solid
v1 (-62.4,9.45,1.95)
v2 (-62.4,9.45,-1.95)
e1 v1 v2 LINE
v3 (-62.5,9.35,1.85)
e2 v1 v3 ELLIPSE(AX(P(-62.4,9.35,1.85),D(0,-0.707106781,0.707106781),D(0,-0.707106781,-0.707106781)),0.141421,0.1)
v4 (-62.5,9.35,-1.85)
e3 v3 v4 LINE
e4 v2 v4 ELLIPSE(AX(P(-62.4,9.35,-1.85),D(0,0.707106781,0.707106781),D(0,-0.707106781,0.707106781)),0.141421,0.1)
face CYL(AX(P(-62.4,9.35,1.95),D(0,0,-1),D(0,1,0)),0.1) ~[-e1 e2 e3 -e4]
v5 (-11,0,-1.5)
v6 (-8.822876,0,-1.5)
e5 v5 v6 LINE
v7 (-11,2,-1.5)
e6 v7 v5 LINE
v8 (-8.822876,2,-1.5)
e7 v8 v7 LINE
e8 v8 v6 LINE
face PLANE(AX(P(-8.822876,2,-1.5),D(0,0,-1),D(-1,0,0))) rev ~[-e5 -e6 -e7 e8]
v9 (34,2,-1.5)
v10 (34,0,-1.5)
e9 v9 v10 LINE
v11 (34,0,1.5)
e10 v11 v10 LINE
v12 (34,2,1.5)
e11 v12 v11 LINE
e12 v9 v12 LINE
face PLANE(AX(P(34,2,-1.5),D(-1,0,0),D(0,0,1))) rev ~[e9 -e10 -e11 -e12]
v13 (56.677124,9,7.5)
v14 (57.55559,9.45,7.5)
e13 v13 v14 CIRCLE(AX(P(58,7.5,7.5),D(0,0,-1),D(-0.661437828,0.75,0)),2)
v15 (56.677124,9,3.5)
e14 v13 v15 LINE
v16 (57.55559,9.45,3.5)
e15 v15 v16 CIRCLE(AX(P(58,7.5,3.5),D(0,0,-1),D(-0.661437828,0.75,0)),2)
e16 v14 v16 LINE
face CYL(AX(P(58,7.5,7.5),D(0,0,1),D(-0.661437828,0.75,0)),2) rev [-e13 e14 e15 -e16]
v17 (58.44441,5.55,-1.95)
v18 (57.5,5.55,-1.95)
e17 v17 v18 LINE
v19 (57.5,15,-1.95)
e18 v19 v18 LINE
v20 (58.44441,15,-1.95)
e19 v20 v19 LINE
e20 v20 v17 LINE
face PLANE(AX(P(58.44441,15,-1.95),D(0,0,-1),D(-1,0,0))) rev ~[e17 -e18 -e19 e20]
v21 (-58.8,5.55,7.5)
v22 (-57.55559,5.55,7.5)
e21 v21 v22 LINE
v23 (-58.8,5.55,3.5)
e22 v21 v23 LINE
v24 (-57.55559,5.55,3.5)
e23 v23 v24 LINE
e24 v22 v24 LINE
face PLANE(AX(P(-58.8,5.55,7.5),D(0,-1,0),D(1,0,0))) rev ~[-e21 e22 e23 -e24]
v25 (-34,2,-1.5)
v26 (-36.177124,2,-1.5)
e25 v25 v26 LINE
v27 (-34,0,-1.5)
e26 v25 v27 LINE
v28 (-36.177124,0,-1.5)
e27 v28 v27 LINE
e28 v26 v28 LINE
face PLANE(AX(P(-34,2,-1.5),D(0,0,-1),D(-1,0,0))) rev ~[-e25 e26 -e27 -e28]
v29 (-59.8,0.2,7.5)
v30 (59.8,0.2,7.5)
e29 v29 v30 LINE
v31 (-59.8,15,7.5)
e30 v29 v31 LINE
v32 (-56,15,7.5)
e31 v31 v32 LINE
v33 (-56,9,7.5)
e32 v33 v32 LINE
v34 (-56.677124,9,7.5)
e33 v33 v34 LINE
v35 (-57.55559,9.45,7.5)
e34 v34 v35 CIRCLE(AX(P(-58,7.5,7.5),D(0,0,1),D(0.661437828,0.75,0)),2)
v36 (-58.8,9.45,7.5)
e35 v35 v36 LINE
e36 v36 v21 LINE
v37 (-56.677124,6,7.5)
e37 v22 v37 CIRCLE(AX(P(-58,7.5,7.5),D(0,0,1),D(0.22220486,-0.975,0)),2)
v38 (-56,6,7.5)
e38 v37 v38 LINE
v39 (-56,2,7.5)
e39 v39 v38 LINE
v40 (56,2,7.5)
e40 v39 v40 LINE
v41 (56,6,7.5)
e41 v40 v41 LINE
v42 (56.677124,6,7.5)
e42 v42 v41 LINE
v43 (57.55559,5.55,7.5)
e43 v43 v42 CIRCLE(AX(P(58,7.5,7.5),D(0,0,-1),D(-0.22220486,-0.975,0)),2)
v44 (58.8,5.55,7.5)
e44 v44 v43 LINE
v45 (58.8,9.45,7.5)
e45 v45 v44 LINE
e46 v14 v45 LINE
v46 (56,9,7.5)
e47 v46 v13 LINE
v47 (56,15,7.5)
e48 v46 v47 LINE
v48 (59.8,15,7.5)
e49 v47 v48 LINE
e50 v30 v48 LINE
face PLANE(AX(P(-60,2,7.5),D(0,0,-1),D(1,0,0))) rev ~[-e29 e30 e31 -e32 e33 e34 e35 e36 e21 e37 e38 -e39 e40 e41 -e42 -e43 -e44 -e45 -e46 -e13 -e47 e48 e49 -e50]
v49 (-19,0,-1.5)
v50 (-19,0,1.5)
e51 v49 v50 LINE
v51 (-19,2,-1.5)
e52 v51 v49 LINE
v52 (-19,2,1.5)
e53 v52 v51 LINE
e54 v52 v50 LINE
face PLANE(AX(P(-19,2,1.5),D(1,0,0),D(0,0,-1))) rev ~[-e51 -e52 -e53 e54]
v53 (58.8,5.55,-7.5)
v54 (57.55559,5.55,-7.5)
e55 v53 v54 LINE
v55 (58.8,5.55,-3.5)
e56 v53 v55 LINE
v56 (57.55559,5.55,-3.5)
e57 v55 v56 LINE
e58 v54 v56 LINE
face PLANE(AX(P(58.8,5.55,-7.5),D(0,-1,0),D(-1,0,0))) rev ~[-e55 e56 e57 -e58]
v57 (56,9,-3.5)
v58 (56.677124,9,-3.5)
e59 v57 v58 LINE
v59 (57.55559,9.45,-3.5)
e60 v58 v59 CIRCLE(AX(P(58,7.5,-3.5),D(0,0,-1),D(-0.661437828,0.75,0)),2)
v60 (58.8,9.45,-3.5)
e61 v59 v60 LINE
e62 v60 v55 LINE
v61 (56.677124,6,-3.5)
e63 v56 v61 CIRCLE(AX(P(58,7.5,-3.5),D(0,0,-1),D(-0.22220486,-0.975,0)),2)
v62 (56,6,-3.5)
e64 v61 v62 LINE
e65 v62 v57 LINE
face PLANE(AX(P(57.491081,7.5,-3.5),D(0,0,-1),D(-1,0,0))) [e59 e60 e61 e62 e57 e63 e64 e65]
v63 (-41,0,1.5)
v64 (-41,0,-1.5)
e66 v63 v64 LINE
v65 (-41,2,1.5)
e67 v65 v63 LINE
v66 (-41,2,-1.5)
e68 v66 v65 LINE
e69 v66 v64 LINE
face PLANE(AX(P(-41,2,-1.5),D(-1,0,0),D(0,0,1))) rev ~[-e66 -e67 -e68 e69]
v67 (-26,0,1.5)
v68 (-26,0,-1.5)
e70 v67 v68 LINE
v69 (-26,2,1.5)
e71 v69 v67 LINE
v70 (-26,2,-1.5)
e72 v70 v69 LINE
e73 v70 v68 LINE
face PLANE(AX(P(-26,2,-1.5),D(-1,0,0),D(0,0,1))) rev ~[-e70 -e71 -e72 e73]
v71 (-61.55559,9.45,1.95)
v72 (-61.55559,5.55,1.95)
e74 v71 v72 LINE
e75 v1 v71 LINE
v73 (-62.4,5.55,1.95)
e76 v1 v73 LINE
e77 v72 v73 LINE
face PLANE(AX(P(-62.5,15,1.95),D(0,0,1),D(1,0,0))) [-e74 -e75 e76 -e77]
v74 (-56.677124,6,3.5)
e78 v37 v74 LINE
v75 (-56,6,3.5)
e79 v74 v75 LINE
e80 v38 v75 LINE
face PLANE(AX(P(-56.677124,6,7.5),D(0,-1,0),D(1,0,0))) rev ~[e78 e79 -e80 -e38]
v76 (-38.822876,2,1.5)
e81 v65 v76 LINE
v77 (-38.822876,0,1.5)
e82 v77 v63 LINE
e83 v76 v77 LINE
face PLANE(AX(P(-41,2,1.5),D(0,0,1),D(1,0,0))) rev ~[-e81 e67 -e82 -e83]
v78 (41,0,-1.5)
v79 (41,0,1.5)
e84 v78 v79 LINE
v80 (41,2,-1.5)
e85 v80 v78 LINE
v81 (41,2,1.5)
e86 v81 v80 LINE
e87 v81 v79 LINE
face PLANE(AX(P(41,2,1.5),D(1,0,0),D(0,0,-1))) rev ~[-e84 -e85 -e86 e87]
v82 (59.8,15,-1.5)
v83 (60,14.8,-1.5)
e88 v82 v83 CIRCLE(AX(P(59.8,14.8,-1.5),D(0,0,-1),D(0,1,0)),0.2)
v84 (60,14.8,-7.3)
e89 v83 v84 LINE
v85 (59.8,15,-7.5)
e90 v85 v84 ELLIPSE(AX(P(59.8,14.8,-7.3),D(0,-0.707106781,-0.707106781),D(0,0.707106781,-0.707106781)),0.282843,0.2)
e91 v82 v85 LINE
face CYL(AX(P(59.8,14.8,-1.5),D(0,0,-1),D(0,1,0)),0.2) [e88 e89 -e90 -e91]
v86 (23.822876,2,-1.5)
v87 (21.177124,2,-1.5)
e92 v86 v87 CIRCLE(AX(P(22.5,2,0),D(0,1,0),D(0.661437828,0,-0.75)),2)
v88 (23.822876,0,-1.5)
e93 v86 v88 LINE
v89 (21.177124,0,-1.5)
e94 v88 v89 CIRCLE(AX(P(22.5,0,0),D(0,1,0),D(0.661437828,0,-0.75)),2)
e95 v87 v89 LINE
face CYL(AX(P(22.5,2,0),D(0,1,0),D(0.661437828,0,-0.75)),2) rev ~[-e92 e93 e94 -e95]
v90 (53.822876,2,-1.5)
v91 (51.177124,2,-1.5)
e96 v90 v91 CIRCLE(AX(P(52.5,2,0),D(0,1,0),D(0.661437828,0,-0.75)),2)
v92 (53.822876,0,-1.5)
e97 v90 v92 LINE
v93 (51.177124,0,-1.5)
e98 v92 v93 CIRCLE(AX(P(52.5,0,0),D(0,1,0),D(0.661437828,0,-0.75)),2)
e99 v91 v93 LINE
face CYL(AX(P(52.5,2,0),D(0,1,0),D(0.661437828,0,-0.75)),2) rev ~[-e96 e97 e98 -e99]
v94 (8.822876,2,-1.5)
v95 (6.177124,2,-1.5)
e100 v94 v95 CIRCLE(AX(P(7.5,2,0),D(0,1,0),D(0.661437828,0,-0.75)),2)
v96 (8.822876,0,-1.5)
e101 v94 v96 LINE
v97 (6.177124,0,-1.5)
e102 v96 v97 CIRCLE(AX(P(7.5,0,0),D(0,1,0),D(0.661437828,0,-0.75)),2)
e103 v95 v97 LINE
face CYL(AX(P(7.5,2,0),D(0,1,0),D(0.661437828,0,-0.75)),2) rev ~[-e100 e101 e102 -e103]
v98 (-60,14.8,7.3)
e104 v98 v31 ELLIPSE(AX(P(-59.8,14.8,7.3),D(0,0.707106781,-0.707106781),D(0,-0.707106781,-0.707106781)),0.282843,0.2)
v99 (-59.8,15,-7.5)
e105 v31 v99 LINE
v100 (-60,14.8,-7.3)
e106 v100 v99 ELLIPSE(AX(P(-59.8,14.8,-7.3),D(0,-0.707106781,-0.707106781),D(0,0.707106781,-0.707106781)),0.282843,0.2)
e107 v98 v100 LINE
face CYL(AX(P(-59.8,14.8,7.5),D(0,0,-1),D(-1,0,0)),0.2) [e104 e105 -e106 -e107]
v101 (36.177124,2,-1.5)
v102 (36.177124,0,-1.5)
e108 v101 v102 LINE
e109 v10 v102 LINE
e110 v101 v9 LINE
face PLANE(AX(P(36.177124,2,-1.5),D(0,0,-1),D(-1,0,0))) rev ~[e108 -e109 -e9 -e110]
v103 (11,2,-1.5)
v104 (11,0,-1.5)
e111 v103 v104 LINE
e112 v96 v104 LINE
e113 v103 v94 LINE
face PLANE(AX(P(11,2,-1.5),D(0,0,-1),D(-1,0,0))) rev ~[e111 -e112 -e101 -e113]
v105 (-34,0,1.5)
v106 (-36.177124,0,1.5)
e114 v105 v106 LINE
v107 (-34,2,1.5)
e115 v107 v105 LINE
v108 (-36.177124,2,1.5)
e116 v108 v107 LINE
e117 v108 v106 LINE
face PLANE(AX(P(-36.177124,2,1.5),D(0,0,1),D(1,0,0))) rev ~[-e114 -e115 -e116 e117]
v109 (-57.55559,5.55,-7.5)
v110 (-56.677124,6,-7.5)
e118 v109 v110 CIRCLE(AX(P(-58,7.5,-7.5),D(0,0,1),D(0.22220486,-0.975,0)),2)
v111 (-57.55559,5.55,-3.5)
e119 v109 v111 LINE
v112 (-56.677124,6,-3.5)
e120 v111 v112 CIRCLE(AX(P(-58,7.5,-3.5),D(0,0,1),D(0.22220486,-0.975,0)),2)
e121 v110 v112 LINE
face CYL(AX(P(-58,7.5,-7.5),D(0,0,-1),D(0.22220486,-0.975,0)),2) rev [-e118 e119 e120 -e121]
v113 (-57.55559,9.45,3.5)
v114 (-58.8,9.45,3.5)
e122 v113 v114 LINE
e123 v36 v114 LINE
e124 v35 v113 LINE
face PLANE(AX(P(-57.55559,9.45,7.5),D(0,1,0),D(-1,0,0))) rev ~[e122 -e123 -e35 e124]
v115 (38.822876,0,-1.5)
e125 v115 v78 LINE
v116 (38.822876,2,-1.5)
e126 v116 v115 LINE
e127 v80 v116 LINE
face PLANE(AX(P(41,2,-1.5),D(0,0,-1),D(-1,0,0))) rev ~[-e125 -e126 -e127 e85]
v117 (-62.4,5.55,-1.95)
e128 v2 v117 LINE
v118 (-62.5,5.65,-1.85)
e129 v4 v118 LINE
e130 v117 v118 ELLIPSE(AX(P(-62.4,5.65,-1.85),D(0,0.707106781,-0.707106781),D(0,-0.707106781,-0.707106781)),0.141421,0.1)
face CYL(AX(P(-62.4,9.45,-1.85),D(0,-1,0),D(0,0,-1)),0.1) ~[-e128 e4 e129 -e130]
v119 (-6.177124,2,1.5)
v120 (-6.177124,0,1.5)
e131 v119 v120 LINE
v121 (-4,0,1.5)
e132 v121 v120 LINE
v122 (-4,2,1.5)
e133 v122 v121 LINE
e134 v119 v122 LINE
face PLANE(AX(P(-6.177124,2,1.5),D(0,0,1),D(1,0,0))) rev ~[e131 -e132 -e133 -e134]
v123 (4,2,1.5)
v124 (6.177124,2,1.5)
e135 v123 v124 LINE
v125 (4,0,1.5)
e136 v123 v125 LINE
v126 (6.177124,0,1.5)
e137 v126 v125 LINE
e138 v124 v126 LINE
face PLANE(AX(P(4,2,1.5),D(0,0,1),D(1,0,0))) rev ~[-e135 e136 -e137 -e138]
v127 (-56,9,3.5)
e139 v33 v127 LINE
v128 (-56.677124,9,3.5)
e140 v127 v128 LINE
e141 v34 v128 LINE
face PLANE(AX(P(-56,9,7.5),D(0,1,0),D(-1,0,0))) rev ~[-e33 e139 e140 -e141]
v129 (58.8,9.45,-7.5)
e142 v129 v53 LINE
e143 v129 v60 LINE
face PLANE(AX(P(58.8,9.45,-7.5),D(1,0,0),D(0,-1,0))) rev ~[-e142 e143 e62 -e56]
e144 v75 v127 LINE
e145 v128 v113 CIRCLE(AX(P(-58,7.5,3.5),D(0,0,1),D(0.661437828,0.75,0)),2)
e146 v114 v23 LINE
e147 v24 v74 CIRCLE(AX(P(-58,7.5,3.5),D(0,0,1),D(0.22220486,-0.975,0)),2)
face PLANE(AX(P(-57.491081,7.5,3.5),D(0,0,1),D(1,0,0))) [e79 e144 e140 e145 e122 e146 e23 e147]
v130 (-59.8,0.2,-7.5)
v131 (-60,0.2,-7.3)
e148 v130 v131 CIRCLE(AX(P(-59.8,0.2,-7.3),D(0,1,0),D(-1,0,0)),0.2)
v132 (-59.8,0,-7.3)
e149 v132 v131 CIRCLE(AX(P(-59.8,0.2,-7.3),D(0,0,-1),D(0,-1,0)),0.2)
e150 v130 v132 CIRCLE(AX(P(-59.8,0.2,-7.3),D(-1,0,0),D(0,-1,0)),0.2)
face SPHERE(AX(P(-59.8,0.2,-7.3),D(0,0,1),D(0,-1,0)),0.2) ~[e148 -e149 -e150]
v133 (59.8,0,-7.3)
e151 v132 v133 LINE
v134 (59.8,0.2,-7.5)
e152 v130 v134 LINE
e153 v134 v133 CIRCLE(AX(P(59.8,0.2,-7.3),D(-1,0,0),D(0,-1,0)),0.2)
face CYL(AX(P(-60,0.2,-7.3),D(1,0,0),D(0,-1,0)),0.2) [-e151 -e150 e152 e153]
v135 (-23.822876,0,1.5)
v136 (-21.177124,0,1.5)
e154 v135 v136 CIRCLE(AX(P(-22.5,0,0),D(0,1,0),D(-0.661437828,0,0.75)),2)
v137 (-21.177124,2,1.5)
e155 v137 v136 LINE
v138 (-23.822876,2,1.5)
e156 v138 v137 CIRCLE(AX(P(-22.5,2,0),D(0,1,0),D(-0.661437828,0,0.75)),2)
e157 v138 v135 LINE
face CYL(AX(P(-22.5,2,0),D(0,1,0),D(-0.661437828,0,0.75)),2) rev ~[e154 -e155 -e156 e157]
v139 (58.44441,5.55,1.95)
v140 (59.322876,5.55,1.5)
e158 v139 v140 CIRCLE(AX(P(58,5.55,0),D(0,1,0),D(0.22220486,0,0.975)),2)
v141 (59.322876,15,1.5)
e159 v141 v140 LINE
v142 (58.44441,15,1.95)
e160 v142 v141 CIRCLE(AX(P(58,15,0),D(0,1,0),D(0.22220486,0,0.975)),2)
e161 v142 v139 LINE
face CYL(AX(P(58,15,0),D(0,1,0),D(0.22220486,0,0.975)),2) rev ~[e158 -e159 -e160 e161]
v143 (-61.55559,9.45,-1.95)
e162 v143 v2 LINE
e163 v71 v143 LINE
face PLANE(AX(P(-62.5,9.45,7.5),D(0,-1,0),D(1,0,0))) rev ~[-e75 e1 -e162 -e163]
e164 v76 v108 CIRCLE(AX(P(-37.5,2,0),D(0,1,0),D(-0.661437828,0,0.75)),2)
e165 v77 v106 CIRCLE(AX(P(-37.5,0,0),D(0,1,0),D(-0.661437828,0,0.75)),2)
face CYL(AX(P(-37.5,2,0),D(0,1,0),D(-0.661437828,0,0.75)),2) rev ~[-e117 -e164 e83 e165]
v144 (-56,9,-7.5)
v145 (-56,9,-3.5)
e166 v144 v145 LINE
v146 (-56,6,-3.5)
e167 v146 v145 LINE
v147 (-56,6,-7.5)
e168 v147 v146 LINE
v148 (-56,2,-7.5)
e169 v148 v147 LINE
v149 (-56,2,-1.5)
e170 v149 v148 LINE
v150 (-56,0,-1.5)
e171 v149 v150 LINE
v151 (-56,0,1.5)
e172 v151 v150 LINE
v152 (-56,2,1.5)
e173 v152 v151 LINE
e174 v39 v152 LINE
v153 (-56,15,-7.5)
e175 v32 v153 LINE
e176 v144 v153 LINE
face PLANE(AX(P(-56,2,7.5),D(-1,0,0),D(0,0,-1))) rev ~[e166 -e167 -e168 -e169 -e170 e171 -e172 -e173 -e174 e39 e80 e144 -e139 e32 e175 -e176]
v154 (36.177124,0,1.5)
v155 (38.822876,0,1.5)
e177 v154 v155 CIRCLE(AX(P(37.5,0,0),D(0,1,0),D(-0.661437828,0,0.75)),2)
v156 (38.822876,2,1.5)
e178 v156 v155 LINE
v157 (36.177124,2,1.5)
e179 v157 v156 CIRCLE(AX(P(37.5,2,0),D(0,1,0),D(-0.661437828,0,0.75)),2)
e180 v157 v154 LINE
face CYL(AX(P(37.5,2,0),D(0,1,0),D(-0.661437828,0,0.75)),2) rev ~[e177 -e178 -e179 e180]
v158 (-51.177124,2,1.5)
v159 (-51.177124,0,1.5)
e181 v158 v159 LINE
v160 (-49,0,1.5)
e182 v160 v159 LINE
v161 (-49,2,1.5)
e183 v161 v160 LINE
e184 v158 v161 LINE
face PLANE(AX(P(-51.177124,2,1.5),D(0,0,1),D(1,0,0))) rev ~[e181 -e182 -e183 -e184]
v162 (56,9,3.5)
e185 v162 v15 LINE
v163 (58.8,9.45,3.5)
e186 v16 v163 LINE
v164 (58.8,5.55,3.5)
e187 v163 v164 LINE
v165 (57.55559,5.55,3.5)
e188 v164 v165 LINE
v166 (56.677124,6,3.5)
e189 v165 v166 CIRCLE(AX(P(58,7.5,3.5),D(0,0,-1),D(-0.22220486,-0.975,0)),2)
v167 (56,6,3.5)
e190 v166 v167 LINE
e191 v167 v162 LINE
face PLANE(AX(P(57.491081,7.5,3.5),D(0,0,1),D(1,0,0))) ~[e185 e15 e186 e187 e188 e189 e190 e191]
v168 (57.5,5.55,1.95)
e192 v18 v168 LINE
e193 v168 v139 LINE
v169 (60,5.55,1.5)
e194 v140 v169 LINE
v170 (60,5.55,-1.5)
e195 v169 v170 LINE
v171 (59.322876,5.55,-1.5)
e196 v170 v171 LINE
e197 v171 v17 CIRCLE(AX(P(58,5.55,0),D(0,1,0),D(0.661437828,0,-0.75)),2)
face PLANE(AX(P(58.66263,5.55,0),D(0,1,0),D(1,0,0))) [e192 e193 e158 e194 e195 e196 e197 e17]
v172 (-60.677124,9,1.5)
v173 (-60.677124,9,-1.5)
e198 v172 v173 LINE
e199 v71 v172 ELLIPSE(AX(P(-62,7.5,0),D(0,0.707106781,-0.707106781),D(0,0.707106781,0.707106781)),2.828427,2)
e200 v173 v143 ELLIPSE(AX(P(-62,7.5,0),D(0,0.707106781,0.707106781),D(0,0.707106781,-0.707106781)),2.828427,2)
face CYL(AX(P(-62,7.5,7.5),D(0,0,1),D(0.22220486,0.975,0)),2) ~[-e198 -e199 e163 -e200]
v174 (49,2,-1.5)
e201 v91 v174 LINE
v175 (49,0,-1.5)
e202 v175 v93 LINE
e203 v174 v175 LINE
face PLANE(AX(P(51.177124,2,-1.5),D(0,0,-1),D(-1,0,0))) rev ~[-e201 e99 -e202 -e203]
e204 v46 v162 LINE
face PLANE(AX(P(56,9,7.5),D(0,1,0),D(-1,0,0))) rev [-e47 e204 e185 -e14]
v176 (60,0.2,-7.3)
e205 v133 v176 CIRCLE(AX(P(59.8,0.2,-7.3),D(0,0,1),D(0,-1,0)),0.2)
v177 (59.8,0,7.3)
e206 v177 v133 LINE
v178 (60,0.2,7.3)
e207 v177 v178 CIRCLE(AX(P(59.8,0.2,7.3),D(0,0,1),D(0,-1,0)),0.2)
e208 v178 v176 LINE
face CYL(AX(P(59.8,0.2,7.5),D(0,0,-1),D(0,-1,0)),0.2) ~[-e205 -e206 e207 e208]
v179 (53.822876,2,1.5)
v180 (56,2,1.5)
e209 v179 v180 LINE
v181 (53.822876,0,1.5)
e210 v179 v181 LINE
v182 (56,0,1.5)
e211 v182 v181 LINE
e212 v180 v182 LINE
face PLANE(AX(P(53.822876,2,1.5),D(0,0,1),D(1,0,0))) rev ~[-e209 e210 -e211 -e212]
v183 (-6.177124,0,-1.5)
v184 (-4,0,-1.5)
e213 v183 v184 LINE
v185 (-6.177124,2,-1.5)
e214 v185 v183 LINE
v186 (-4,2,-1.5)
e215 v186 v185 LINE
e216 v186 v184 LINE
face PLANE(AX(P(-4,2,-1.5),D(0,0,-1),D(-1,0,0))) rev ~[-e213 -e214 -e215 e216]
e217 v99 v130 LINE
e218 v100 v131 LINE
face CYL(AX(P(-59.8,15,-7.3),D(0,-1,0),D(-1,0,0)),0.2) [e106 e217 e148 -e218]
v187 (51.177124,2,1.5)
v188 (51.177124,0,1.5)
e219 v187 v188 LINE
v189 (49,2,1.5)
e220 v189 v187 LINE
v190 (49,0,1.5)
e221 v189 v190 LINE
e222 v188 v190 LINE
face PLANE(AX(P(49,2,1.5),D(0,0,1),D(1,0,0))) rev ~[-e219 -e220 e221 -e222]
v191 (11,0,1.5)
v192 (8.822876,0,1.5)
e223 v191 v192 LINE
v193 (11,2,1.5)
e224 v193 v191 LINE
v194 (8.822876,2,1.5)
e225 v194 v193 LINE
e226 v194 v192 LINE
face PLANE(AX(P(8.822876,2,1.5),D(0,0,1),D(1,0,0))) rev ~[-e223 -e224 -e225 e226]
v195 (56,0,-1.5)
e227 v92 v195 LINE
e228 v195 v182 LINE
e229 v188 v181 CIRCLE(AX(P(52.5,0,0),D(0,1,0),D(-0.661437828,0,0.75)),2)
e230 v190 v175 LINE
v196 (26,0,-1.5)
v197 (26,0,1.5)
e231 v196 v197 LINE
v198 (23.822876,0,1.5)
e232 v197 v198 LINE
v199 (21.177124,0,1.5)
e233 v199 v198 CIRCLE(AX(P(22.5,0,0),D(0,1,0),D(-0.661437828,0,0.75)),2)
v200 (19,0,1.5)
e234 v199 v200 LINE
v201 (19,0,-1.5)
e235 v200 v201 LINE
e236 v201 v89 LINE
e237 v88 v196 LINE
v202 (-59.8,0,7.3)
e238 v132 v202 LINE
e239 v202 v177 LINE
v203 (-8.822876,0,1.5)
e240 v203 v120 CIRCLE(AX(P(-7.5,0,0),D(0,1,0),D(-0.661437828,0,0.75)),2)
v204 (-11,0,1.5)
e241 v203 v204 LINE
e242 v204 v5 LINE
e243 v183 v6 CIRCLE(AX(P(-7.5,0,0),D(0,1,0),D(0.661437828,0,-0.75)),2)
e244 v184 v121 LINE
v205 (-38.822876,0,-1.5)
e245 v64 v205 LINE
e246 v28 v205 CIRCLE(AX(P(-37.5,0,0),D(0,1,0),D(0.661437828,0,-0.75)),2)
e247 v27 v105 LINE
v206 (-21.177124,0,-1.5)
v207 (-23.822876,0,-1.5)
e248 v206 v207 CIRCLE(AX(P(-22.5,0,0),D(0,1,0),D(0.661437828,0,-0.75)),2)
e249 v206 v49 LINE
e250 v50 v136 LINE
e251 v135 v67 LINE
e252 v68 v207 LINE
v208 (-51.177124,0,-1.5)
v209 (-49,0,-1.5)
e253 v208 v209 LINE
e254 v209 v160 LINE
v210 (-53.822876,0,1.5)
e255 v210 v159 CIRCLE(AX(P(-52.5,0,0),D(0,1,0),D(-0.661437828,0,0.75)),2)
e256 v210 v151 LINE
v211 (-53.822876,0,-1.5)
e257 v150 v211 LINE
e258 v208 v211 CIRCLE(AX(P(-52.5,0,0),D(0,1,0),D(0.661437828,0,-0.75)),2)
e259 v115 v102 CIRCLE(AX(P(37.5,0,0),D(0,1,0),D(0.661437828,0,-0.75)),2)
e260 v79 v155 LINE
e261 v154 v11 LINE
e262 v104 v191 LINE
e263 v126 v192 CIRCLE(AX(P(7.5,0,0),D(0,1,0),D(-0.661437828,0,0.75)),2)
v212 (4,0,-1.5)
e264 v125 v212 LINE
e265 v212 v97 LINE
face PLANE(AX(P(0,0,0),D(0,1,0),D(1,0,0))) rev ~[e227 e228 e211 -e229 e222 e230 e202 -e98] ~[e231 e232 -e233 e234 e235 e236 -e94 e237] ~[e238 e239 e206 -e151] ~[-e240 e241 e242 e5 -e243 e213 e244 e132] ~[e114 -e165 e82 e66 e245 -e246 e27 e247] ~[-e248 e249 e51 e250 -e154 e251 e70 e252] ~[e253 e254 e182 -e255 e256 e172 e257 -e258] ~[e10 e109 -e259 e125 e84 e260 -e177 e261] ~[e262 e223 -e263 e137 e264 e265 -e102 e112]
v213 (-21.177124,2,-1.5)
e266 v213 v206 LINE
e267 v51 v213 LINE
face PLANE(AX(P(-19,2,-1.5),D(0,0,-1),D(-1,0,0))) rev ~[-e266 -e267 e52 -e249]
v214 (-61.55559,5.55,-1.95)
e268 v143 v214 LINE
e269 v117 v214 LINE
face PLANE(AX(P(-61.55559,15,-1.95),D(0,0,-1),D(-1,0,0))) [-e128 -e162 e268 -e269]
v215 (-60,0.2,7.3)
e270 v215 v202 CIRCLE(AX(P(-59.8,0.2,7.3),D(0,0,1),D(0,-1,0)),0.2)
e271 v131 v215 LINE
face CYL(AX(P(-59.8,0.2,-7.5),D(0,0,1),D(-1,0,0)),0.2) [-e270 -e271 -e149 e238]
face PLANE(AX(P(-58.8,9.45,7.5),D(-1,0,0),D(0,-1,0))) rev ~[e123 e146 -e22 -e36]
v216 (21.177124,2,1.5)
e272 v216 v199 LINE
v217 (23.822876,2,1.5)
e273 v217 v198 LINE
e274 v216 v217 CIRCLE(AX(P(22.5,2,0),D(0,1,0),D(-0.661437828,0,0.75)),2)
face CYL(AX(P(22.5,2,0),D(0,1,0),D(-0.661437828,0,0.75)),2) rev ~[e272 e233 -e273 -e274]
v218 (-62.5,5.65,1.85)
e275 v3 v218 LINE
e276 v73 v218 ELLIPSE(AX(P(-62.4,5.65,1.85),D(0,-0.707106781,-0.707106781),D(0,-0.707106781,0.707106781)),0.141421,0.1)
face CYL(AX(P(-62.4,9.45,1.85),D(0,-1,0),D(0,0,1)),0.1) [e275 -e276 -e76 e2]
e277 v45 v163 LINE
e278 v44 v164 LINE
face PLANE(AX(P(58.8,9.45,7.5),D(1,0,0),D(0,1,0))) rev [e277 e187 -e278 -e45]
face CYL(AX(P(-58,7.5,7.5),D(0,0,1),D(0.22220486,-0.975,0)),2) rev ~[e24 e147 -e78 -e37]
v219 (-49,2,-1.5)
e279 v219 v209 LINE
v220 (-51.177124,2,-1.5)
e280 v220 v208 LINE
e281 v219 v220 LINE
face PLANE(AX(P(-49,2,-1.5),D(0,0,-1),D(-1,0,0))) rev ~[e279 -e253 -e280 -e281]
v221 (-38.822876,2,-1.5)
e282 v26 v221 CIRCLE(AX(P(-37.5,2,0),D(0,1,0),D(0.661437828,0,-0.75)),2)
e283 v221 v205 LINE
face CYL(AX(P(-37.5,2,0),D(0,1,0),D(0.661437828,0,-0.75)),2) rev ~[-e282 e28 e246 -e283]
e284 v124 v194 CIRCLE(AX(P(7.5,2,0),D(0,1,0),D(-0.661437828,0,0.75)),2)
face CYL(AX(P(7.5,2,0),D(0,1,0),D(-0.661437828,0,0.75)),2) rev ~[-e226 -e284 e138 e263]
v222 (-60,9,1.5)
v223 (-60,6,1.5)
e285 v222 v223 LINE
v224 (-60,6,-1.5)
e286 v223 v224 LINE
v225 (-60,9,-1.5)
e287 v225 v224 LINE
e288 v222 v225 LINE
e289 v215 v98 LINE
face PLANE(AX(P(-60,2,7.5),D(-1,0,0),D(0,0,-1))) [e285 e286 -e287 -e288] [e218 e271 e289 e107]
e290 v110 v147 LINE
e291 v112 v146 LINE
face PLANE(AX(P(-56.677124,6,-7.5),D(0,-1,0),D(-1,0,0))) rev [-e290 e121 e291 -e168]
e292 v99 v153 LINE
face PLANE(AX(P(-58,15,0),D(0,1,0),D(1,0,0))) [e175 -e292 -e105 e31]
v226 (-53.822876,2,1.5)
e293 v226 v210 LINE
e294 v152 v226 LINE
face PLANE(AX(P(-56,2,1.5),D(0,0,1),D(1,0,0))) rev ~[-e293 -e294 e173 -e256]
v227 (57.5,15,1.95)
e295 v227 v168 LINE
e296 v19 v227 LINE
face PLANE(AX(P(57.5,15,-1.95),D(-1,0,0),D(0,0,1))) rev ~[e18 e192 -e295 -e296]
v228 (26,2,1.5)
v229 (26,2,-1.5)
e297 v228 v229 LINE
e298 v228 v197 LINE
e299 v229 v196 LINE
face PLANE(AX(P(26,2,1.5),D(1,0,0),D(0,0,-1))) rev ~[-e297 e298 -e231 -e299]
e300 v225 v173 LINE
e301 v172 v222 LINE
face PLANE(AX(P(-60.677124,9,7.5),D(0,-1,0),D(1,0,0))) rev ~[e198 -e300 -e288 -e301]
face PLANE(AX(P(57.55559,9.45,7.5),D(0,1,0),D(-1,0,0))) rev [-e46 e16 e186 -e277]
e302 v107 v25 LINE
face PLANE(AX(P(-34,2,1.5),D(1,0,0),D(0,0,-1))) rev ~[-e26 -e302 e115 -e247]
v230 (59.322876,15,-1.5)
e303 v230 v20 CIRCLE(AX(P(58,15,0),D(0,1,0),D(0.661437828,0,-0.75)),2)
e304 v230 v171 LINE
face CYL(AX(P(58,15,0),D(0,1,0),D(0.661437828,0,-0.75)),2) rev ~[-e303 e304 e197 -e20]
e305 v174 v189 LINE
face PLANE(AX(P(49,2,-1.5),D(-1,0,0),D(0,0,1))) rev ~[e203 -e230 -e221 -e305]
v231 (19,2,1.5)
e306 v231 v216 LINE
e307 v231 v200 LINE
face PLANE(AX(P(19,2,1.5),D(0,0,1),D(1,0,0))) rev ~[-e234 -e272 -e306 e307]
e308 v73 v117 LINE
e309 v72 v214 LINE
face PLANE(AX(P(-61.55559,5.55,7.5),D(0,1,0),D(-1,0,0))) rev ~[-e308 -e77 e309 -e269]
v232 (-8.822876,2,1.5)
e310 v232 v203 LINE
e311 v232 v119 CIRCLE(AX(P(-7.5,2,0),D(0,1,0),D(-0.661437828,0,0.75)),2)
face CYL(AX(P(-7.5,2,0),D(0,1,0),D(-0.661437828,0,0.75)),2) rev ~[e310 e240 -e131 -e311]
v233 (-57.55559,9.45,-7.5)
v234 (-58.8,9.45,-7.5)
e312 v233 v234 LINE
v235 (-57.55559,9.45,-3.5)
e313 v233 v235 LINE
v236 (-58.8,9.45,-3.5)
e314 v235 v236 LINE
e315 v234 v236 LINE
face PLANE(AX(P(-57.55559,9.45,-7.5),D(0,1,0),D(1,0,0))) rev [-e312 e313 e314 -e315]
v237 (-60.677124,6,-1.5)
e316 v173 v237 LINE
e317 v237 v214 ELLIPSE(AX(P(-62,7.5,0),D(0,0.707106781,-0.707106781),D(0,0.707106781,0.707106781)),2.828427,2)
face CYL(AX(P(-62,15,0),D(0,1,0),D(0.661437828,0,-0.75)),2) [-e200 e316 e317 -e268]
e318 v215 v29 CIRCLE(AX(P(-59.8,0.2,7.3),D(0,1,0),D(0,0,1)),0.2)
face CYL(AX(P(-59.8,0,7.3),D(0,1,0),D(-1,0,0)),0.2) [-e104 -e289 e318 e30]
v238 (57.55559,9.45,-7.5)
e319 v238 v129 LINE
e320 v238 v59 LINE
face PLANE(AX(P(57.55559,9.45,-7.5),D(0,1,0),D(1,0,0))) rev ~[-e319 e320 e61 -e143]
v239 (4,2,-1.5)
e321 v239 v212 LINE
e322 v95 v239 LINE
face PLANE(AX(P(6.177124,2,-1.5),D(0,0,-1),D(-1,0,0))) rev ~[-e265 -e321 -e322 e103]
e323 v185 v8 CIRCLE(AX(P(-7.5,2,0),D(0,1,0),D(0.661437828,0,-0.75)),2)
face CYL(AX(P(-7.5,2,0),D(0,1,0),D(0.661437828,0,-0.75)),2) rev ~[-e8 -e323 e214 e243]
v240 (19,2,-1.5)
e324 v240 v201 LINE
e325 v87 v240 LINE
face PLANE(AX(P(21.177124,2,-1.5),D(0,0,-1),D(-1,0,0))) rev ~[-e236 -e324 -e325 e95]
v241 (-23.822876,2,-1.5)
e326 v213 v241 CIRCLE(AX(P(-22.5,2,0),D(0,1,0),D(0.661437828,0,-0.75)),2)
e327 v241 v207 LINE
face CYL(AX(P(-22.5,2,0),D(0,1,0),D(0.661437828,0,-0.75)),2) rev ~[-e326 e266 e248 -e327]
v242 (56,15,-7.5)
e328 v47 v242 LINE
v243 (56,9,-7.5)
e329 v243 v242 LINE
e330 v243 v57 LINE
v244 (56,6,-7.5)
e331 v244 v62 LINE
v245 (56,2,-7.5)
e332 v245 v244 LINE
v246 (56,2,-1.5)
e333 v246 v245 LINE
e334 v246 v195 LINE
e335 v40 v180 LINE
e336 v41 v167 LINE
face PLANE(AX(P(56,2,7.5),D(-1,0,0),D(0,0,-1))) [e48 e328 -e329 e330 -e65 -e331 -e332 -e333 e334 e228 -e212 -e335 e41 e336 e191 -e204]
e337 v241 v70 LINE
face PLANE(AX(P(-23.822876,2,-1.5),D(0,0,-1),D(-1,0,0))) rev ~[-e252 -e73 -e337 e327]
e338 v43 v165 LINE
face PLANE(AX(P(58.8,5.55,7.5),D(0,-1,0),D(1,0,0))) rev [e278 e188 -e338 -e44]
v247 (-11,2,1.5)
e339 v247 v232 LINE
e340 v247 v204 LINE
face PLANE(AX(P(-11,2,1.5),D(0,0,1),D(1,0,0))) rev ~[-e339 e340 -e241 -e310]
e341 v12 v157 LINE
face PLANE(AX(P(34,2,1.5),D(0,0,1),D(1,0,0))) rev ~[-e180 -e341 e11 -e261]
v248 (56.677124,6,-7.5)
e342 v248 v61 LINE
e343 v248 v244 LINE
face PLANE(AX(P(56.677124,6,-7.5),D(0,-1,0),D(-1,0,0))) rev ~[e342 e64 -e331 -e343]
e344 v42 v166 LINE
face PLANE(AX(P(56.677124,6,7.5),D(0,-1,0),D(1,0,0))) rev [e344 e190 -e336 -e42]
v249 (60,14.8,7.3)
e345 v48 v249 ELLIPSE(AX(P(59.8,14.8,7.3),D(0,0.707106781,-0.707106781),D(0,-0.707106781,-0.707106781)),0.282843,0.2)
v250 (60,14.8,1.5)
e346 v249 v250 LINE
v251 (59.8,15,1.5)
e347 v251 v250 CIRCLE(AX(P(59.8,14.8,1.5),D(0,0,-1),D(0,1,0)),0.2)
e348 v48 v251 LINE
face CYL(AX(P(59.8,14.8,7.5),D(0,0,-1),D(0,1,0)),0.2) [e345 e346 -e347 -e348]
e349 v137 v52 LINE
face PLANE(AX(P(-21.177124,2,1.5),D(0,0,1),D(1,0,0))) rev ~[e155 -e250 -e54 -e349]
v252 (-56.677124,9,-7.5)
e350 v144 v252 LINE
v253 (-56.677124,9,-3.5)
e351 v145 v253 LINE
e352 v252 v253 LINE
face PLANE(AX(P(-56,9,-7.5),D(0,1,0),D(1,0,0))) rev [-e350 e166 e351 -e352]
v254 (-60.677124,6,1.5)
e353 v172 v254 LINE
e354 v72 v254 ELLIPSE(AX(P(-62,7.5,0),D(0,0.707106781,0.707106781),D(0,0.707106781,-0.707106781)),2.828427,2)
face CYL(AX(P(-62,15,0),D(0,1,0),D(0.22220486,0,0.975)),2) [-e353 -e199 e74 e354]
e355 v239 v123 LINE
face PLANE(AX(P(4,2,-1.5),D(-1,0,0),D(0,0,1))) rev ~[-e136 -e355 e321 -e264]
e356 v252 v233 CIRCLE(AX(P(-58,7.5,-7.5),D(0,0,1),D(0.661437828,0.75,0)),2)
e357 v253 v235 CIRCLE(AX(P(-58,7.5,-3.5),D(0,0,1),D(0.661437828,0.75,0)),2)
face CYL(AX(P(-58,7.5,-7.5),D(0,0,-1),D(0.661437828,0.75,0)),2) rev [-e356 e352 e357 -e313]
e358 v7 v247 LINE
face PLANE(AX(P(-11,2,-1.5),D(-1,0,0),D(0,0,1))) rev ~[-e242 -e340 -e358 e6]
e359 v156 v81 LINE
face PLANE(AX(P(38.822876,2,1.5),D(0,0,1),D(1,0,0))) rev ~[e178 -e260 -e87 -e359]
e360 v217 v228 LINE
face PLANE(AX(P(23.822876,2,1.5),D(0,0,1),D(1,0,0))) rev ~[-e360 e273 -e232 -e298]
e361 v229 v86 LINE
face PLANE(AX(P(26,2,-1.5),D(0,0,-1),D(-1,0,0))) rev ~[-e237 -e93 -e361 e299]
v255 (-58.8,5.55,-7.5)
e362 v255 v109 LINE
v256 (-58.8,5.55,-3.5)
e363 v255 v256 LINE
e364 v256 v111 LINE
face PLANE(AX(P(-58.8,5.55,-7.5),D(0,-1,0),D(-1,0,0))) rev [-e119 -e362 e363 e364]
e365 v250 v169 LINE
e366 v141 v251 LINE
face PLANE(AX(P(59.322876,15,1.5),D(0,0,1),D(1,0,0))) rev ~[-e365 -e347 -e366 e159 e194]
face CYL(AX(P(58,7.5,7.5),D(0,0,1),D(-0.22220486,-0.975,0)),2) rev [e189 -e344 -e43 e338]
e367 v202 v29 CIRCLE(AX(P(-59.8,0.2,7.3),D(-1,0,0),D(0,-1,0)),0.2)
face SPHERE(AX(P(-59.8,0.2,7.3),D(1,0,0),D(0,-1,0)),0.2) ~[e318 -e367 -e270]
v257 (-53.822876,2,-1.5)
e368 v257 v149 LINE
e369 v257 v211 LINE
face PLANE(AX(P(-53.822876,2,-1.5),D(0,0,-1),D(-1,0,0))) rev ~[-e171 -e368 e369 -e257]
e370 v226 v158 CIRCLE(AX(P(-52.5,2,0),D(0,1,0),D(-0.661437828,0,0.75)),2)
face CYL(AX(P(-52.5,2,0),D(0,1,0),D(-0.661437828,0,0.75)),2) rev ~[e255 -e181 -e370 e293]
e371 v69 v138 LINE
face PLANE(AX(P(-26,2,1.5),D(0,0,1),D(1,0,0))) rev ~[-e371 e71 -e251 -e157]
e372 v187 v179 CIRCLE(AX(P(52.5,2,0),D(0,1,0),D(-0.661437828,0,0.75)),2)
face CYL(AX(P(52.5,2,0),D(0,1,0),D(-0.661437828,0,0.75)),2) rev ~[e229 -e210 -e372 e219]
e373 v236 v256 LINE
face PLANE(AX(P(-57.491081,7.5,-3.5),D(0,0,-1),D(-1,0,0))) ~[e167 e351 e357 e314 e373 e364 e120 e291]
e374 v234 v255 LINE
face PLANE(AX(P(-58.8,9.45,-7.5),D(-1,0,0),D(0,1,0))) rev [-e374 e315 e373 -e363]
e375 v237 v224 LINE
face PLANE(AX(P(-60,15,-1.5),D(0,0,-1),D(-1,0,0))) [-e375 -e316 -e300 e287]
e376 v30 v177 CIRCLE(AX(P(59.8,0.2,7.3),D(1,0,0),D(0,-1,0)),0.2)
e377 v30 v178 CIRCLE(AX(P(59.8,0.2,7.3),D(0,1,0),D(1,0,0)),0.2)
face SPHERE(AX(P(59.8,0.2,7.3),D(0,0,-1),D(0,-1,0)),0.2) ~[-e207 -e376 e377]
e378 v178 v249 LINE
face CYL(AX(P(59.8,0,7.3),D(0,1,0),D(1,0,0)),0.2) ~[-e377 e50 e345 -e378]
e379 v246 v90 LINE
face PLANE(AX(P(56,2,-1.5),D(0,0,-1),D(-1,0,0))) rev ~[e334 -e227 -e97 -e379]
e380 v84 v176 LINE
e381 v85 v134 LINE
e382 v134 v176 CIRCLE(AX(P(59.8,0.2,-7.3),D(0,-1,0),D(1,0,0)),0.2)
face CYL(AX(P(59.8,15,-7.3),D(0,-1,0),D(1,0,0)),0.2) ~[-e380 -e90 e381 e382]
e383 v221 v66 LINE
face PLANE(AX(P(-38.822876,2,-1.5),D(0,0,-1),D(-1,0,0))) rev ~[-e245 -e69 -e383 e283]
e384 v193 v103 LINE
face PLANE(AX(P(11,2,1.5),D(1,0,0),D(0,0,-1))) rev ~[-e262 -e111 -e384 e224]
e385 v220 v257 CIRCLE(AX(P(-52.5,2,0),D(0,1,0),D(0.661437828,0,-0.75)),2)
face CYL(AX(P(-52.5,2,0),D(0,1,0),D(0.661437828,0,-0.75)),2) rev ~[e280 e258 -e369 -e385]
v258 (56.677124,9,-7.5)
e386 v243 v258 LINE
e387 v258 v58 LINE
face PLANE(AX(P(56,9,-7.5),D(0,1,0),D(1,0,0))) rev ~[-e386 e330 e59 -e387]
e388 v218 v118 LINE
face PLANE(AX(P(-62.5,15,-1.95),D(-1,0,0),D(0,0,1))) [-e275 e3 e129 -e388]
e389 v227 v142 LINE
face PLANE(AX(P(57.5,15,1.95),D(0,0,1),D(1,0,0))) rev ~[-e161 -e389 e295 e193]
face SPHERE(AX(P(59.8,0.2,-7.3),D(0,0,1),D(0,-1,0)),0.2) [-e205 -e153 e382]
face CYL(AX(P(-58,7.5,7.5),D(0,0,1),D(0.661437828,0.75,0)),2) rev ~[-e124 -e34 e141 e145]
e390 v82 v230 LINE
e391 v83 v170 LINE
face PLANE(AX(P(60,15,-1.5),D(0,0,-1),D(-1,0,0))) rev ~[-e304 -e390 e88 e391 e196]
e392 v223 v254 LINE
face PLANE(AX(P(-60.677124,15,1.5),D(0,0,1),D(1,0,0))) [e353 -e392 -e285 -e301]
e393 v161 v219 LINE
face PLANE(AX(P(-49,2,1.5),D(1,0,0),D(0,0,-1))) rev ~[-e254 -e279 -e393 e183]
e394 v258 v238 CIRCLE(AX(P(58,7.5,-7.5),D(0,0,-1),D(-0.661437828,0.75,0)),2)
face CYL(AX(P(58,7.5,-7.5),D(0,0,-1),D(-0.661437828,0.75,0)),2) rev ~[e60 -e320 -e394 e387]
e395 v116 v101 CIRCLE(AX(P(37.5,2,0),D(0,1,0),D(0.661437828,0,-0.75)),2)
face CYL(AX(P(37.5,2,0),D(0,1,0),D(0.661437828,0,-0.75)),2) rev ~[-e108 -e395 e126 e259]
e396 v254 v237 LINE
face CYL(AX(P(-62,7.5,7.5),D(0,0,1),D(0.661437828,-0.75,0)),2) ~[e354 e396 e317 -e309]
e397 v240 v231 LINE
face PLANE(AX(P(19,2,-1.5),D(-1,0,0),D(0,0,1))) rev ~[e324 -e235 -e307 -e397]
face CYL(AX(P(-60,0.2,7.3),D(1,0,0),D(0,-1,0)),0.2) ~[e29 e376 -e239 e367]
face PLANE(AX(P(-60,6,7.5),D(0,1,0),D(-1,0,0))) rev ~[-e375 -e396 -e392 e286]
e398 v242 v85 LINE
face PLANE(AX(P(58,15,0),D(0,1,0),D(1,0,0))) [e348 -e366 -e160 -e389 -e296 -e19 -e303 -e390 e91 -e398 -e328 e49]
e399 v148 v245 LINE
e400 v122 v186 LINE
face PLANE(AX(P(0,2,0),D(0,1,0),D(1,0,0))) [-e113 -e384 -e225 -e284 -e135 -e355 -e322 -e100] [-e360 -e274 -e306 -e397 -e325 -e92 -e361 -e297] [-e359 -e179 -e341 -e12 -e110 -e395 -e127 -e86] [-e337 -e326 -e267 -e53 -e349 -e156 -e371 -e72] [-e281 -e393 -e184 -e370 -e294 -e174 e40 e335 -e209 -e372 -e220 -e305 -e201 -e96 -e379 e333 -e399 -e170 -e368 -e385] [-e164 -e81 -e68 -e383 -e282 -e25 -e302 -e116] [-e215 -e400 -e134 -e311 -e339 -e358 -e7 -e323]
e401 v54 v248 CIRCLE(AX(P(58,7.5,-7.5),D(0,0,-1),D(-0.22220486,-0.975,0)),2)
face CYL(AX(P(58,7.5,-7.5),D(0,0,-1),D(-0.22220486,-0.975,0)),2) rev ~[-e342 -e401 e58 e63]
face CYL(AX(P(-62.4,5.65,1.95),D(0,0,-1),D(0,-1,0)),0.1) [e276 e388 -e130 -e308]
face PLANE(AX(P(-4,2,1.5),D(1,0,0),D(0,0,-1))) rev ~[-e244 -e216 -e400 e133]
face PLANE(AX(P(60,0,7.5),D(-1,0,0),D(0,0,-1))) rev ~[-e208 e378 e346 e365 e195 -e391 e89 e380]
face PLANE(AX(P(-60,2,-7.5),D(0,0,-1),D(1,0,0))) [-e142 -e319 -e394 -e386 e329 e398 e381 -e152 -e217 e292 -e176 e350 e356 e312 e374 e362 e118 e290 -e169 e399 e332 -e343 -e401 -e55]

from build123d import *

# Parameters (mm, degrees)
SKETCH_1_W                 = 120
SKETCH_1_H                 = 15
EXTRUDE_1_DEPTH            = 2
SKETCH_2_W                 = 4
SKETCH_2_H                 = 15
EXTRUDE_2_DEPTH            = 13
CUT_EXTRUDE_1_REACH        = 63.849
PATTERN_LINEAR_1_COUNT     = 5
PATTERN_LINEAR_1_PITCH     = 15
PATTERN_LINEAR_1_COL_COUNT = 4
PATTERN_LINEAR_1_COL_PITCH = 15
CUT_EXTRUDE_2_DEPTH        = 4
MIRROR_2_COPY_1_DEPTH      = 4
CUT_EXTRUDE_3_DEPTH        = 9.45
EXTRUDE_3_DEPTH            = 15
CUT_EXTRUDE_4_DEPTH        = 15
FILLET_1_R                 = 0.2
FILLET_2_R                 = 0.1


with BuildPart() as part:
    # 草图1 → 凸台-拉伸1 (new body)
    with BuildSketch(Plane(origin=(0, 0, 0), x_dir=(1, 0, 0), z_dir=(0, 1, 0))):
        Rectangle(SKETCH_1_W, SKETCH_1_H)
    extrude(amount=EXTRUDE_1_DEPTH)

    # 草图2 → 凸台-拉伸2 (add)
    with BuildSketch(Plane(origin=(0, 2, 0), x_dir=(1, 0, 0), z_dir=(0, 1, 0))):
        with Locations((-58, 0)):
            Rectangle(SKETCH_2_W, SKETCH_2_H)
        with Locations((58, 0)):
            Rectangle(SKETCH_2_W, SKETCH_2_H)
    extrude(amount=EXTRUDE_2_DEPTH)

    # 草图3 → 切除-拉伸1 (cut, up to next)
    with BuildSketch(Plane(origin=(0, 2, 0), x_dir=(1, 0, 0), z_dir=(0, 1, 0)), mode=Mode.PRIVATE) as cut_extrude_1_sk1:
        with BuildLine():
            Line((-4, -1.5), (-4, 1.5))
            Line((-4, 1.5), (-6.177124344, 1.5))
            ThreePointArc((-6.177124344, 1.5), (-7.5, 2), (-8.822875656, 1.5))
            Line((-8.822875656, 1.5), (-11, 1.5))
            Line((-11, 1.5), (-11, -1.5))
            Line((-11, -1.5), (-8.822875656, -1.5))
            ThreePointArc((-8.822875656, -1.5), (-7.5, -2), (-6.177124344, -1.5))
            Line((-6.177124344, -1.5), (-4, -1.5))
        make_face()
    cut_extrude_1_tool1 = extrude(cut_extrude_1_sk1.sketch, amount=-CUT_EXTRUDE_1_REACH, mode=Mode.PRIVATE) & part.part
    cut_extrude_1 = cut_extrude_1_tool1.solids().sort_by_distance((-7.5, 2, 0))[0]
    add(cut_extrude_1, mode=Mode.SUBTRACT)

    # 阵列(线性)1: 切除-拉伸1 ×5
    with Locations(*[(i * PATTERN_LINEAR_1_PITCH, 0, 0) for i in range(1, PATTERN_LINEAR_1_COUNT)]):
        add(cut_extrude_1, mode=Mode.SUBTRACT)

    # 阵列(线性)1 col: 切除-拉伸1 ×4
    with Locations(*[(-i * PATTERN_LINEAR_1_COL_PITCH, 0, 0) for i in range(1, PATTERN_LINEAR_1_COL_COUNT)]):
        add(cut_extrude_1, mode=Mode.SUBTRACT)

    # 草图4 → 切除-拉伸2 (cut)
    with BuildSketch(Plane.XY.offset(7.5)):
        with BuildLine():
            Line((-56, 6), (-56, 9))
            Line((-56, 9), (-56.677124344, 9))
            ThreePointArc((-56.677124344, 9), (-57.088161527, 9.280042303), (-57.555590279, 9.45))
            Line((-57.555590279, 9.45), (-58.8, 9.45))
            Line((-58.8, 9.45), (-58.8, 5.55))
            Line((-58.8, 5.55), (-57.555590279, 5.55))
            ThreePointArc((-57.555590279, 5.55), (-57.088161527, 5.719957697), (-56.677124344, 6))
            Line((-56.677124344, 6), (-56, 6))
        make_face()
    cut_extrude_2 = extrude(amount=-CUT_EXTRUDE_2_DEPTH, mode=Mode.SUBTRACT)

    # 镜向1: 切除-拉伸2 across plane
    add(cut_extrude_2.mirror(Plane.XY), mode=Mode.SUBTRACT)

    # 镜向2: 切除-拉伸2 across plane
    add(cut_extrude_2.mirror(Plane(origin=(0, 0, 0), x_dir=(0, 0, 1), z_dir=(1, 0, 0))), mode=Mode.SUBTRACT)

    # 镜向2 copy 1 sketch → 镜向2 copy 1 (cut)
    with BuildSketch(Plane(origin=(0, 0, -7.5), x_dir=(-1, 0, 0), z_dir=(0, 0, -1))):
        with BuildLine():
            Line((-56, 6), (-56, 9))
            Line((-56, 9), (-56.677124344, 9))
            ThreePointArc((-56.677124344, 9), (-57.088161527, 9.280042303), (-57.555590279, 9.45))
            Line((-57.555590279, 9.45), (-58.8, 9.45))
            Line((-58.8, 9.45), (-58.8, 5.55))
            Line((-58.8, 5.55), (-57.555590279, 5.55))
            ThreePointArc((-57.555590279, 5.55), (-57.088161527, 5.719957697), (-56.677124344, 6))
            Line((-56.677124344, 6), (-56, 6))
        make_face()
    extrude(amount=-MIRROR_2_COPY_1_DEPTH, mode=Mode.SUBTRACT)

    # 草图5 → 切除-拉伸3 (cut)
    with BuildSketch(Plane(origin=(0, 15, 0), x_dir=(1, 0, 0), z_dir=(0, 1, 0))):
        with BuildLine():
            Line((60, -1.5), (60, 1.5))
            Line((60, 1.5), (59.322875656, 1.5))
            ThreePointArc((59.322875656, 1.5), (58.911838473, 1.780042303), (58.444409721, 1.95))
            Line((58.444409721, 1.95), (57.5, 1.95))
            Line((57.5, 1.95), (57.5, -1.95))
            Line((57.5, -1.95), (58.444409721, -1.95))
            ThreePointArc((58.444409721, -1.95), (58.911838473, -1.780042303), (59.322875656, -1.5))
            Line((59.322875656, -1.5), (60, -1.5))
        make_face()
    extrude(amount=-CUT_EXTRUDE_3_DEPTH, mode=Mode.SUBTRACT)

    # 草图6 → 凸台-拉伸3 (add)
    with BuildSketch(Plane(origin=(0, 15, 0), x_dir=(1, 0, 0), z_dir=(0, 1, 0))):
        with BuildLine():
            Line((-60, -1.5), (-60, 1.5))
            Line((-60, 1.5), (-60.677124344, 1.5))
            ThreePointArc((-60.677124344, 1.5), (-61.088161527, 1.780042303), (-61.555590279, 1.95))
            Line((-61.555590279, 1.95), (-62.5, 1.95))
            Line((-62.5, 1.95), (-62.5, -1.95))
            Line((-62.5, -1.95), (-61.555590279, -1.95))
            ThreePointArc((-61.555590279, -1.95), (-61.088161527, -1.780042303), (-60.677124344, -1.5))
            Line((-60.677124344, -1.5), (-60, -1.5))
        make_face()
    extrude(amount=-EXTRUDE_3_DEPTH)

    # 草图7 → 切除-拉伸4 (cut)
    with BuildSketch(Plane.XY.offset(7.5)):
        with BuildLine():
            Line((-62.5, 9.45), (-61.555590279, 9.45))
            ThreePointArc((-61.555590279, 9.45), (-61.088161527, 9.280042303), (-60.677124344, 9))
            Line((-60.677124344, 9), (-60, 9))
            Line((-60, 9), (-60, 15))
            Line((-60, 15), (-62.5, 15))
            Line((-62.5, 15), (-62.5, 9.45))
        make_face()
        with BuildLine():
            Line((-60, 0), (-60, 6))
            Line((-60, 6), (-60.677124344, 6))
            ThreePointArc((-60.677124344, 6), (-61.088161527, 5.719957697), (-61.555590279, 5.55))
            Line((-61.555590279, 5.55), (-62.5, 5.55))
            Line((-62.5, 5.55), (-62.5, 0))
            Line((-62.5, 0), (-60, 0))
        make_face()
    extrude(amount=-CUT_EXTRUDE_4_DEPTH, mode=Mode.SUBTRACT)

    # 圆角1
    fillet_1_edges = [part.edges().sort_by_distance(p)[0] for p in [
        (-60, 15, 0),
        (60, 15, 4.5),
        (60, 15, -4.5),
        (60, 0, 0),
        (0, 0, 7.5),
        (-60, 0, 0),
        (0, 0, -7.5),
        (60, 7.5, -7.5),
        (60, 7.5, 7.5),
        (-60, 7.5, 7.5),
        (-60, 7.5, -7.5),
    ]]
    fillet(fillet_1_edges, radius=FILLET_1_R)

    # 圆角2
    fillet_2_edges = [part.edges().sort_by_distance(p)[0] for p in [
        (-62.5, 7.5, -1.95),
        (-62.5, 7.5, 1.95),
        (-62.5, 5.55, 0),
        (-62.5, 9.45, 0),
    ]]
    fillet(fillet_2_edges, radius=FILLET_2_R)


solid = part.part
